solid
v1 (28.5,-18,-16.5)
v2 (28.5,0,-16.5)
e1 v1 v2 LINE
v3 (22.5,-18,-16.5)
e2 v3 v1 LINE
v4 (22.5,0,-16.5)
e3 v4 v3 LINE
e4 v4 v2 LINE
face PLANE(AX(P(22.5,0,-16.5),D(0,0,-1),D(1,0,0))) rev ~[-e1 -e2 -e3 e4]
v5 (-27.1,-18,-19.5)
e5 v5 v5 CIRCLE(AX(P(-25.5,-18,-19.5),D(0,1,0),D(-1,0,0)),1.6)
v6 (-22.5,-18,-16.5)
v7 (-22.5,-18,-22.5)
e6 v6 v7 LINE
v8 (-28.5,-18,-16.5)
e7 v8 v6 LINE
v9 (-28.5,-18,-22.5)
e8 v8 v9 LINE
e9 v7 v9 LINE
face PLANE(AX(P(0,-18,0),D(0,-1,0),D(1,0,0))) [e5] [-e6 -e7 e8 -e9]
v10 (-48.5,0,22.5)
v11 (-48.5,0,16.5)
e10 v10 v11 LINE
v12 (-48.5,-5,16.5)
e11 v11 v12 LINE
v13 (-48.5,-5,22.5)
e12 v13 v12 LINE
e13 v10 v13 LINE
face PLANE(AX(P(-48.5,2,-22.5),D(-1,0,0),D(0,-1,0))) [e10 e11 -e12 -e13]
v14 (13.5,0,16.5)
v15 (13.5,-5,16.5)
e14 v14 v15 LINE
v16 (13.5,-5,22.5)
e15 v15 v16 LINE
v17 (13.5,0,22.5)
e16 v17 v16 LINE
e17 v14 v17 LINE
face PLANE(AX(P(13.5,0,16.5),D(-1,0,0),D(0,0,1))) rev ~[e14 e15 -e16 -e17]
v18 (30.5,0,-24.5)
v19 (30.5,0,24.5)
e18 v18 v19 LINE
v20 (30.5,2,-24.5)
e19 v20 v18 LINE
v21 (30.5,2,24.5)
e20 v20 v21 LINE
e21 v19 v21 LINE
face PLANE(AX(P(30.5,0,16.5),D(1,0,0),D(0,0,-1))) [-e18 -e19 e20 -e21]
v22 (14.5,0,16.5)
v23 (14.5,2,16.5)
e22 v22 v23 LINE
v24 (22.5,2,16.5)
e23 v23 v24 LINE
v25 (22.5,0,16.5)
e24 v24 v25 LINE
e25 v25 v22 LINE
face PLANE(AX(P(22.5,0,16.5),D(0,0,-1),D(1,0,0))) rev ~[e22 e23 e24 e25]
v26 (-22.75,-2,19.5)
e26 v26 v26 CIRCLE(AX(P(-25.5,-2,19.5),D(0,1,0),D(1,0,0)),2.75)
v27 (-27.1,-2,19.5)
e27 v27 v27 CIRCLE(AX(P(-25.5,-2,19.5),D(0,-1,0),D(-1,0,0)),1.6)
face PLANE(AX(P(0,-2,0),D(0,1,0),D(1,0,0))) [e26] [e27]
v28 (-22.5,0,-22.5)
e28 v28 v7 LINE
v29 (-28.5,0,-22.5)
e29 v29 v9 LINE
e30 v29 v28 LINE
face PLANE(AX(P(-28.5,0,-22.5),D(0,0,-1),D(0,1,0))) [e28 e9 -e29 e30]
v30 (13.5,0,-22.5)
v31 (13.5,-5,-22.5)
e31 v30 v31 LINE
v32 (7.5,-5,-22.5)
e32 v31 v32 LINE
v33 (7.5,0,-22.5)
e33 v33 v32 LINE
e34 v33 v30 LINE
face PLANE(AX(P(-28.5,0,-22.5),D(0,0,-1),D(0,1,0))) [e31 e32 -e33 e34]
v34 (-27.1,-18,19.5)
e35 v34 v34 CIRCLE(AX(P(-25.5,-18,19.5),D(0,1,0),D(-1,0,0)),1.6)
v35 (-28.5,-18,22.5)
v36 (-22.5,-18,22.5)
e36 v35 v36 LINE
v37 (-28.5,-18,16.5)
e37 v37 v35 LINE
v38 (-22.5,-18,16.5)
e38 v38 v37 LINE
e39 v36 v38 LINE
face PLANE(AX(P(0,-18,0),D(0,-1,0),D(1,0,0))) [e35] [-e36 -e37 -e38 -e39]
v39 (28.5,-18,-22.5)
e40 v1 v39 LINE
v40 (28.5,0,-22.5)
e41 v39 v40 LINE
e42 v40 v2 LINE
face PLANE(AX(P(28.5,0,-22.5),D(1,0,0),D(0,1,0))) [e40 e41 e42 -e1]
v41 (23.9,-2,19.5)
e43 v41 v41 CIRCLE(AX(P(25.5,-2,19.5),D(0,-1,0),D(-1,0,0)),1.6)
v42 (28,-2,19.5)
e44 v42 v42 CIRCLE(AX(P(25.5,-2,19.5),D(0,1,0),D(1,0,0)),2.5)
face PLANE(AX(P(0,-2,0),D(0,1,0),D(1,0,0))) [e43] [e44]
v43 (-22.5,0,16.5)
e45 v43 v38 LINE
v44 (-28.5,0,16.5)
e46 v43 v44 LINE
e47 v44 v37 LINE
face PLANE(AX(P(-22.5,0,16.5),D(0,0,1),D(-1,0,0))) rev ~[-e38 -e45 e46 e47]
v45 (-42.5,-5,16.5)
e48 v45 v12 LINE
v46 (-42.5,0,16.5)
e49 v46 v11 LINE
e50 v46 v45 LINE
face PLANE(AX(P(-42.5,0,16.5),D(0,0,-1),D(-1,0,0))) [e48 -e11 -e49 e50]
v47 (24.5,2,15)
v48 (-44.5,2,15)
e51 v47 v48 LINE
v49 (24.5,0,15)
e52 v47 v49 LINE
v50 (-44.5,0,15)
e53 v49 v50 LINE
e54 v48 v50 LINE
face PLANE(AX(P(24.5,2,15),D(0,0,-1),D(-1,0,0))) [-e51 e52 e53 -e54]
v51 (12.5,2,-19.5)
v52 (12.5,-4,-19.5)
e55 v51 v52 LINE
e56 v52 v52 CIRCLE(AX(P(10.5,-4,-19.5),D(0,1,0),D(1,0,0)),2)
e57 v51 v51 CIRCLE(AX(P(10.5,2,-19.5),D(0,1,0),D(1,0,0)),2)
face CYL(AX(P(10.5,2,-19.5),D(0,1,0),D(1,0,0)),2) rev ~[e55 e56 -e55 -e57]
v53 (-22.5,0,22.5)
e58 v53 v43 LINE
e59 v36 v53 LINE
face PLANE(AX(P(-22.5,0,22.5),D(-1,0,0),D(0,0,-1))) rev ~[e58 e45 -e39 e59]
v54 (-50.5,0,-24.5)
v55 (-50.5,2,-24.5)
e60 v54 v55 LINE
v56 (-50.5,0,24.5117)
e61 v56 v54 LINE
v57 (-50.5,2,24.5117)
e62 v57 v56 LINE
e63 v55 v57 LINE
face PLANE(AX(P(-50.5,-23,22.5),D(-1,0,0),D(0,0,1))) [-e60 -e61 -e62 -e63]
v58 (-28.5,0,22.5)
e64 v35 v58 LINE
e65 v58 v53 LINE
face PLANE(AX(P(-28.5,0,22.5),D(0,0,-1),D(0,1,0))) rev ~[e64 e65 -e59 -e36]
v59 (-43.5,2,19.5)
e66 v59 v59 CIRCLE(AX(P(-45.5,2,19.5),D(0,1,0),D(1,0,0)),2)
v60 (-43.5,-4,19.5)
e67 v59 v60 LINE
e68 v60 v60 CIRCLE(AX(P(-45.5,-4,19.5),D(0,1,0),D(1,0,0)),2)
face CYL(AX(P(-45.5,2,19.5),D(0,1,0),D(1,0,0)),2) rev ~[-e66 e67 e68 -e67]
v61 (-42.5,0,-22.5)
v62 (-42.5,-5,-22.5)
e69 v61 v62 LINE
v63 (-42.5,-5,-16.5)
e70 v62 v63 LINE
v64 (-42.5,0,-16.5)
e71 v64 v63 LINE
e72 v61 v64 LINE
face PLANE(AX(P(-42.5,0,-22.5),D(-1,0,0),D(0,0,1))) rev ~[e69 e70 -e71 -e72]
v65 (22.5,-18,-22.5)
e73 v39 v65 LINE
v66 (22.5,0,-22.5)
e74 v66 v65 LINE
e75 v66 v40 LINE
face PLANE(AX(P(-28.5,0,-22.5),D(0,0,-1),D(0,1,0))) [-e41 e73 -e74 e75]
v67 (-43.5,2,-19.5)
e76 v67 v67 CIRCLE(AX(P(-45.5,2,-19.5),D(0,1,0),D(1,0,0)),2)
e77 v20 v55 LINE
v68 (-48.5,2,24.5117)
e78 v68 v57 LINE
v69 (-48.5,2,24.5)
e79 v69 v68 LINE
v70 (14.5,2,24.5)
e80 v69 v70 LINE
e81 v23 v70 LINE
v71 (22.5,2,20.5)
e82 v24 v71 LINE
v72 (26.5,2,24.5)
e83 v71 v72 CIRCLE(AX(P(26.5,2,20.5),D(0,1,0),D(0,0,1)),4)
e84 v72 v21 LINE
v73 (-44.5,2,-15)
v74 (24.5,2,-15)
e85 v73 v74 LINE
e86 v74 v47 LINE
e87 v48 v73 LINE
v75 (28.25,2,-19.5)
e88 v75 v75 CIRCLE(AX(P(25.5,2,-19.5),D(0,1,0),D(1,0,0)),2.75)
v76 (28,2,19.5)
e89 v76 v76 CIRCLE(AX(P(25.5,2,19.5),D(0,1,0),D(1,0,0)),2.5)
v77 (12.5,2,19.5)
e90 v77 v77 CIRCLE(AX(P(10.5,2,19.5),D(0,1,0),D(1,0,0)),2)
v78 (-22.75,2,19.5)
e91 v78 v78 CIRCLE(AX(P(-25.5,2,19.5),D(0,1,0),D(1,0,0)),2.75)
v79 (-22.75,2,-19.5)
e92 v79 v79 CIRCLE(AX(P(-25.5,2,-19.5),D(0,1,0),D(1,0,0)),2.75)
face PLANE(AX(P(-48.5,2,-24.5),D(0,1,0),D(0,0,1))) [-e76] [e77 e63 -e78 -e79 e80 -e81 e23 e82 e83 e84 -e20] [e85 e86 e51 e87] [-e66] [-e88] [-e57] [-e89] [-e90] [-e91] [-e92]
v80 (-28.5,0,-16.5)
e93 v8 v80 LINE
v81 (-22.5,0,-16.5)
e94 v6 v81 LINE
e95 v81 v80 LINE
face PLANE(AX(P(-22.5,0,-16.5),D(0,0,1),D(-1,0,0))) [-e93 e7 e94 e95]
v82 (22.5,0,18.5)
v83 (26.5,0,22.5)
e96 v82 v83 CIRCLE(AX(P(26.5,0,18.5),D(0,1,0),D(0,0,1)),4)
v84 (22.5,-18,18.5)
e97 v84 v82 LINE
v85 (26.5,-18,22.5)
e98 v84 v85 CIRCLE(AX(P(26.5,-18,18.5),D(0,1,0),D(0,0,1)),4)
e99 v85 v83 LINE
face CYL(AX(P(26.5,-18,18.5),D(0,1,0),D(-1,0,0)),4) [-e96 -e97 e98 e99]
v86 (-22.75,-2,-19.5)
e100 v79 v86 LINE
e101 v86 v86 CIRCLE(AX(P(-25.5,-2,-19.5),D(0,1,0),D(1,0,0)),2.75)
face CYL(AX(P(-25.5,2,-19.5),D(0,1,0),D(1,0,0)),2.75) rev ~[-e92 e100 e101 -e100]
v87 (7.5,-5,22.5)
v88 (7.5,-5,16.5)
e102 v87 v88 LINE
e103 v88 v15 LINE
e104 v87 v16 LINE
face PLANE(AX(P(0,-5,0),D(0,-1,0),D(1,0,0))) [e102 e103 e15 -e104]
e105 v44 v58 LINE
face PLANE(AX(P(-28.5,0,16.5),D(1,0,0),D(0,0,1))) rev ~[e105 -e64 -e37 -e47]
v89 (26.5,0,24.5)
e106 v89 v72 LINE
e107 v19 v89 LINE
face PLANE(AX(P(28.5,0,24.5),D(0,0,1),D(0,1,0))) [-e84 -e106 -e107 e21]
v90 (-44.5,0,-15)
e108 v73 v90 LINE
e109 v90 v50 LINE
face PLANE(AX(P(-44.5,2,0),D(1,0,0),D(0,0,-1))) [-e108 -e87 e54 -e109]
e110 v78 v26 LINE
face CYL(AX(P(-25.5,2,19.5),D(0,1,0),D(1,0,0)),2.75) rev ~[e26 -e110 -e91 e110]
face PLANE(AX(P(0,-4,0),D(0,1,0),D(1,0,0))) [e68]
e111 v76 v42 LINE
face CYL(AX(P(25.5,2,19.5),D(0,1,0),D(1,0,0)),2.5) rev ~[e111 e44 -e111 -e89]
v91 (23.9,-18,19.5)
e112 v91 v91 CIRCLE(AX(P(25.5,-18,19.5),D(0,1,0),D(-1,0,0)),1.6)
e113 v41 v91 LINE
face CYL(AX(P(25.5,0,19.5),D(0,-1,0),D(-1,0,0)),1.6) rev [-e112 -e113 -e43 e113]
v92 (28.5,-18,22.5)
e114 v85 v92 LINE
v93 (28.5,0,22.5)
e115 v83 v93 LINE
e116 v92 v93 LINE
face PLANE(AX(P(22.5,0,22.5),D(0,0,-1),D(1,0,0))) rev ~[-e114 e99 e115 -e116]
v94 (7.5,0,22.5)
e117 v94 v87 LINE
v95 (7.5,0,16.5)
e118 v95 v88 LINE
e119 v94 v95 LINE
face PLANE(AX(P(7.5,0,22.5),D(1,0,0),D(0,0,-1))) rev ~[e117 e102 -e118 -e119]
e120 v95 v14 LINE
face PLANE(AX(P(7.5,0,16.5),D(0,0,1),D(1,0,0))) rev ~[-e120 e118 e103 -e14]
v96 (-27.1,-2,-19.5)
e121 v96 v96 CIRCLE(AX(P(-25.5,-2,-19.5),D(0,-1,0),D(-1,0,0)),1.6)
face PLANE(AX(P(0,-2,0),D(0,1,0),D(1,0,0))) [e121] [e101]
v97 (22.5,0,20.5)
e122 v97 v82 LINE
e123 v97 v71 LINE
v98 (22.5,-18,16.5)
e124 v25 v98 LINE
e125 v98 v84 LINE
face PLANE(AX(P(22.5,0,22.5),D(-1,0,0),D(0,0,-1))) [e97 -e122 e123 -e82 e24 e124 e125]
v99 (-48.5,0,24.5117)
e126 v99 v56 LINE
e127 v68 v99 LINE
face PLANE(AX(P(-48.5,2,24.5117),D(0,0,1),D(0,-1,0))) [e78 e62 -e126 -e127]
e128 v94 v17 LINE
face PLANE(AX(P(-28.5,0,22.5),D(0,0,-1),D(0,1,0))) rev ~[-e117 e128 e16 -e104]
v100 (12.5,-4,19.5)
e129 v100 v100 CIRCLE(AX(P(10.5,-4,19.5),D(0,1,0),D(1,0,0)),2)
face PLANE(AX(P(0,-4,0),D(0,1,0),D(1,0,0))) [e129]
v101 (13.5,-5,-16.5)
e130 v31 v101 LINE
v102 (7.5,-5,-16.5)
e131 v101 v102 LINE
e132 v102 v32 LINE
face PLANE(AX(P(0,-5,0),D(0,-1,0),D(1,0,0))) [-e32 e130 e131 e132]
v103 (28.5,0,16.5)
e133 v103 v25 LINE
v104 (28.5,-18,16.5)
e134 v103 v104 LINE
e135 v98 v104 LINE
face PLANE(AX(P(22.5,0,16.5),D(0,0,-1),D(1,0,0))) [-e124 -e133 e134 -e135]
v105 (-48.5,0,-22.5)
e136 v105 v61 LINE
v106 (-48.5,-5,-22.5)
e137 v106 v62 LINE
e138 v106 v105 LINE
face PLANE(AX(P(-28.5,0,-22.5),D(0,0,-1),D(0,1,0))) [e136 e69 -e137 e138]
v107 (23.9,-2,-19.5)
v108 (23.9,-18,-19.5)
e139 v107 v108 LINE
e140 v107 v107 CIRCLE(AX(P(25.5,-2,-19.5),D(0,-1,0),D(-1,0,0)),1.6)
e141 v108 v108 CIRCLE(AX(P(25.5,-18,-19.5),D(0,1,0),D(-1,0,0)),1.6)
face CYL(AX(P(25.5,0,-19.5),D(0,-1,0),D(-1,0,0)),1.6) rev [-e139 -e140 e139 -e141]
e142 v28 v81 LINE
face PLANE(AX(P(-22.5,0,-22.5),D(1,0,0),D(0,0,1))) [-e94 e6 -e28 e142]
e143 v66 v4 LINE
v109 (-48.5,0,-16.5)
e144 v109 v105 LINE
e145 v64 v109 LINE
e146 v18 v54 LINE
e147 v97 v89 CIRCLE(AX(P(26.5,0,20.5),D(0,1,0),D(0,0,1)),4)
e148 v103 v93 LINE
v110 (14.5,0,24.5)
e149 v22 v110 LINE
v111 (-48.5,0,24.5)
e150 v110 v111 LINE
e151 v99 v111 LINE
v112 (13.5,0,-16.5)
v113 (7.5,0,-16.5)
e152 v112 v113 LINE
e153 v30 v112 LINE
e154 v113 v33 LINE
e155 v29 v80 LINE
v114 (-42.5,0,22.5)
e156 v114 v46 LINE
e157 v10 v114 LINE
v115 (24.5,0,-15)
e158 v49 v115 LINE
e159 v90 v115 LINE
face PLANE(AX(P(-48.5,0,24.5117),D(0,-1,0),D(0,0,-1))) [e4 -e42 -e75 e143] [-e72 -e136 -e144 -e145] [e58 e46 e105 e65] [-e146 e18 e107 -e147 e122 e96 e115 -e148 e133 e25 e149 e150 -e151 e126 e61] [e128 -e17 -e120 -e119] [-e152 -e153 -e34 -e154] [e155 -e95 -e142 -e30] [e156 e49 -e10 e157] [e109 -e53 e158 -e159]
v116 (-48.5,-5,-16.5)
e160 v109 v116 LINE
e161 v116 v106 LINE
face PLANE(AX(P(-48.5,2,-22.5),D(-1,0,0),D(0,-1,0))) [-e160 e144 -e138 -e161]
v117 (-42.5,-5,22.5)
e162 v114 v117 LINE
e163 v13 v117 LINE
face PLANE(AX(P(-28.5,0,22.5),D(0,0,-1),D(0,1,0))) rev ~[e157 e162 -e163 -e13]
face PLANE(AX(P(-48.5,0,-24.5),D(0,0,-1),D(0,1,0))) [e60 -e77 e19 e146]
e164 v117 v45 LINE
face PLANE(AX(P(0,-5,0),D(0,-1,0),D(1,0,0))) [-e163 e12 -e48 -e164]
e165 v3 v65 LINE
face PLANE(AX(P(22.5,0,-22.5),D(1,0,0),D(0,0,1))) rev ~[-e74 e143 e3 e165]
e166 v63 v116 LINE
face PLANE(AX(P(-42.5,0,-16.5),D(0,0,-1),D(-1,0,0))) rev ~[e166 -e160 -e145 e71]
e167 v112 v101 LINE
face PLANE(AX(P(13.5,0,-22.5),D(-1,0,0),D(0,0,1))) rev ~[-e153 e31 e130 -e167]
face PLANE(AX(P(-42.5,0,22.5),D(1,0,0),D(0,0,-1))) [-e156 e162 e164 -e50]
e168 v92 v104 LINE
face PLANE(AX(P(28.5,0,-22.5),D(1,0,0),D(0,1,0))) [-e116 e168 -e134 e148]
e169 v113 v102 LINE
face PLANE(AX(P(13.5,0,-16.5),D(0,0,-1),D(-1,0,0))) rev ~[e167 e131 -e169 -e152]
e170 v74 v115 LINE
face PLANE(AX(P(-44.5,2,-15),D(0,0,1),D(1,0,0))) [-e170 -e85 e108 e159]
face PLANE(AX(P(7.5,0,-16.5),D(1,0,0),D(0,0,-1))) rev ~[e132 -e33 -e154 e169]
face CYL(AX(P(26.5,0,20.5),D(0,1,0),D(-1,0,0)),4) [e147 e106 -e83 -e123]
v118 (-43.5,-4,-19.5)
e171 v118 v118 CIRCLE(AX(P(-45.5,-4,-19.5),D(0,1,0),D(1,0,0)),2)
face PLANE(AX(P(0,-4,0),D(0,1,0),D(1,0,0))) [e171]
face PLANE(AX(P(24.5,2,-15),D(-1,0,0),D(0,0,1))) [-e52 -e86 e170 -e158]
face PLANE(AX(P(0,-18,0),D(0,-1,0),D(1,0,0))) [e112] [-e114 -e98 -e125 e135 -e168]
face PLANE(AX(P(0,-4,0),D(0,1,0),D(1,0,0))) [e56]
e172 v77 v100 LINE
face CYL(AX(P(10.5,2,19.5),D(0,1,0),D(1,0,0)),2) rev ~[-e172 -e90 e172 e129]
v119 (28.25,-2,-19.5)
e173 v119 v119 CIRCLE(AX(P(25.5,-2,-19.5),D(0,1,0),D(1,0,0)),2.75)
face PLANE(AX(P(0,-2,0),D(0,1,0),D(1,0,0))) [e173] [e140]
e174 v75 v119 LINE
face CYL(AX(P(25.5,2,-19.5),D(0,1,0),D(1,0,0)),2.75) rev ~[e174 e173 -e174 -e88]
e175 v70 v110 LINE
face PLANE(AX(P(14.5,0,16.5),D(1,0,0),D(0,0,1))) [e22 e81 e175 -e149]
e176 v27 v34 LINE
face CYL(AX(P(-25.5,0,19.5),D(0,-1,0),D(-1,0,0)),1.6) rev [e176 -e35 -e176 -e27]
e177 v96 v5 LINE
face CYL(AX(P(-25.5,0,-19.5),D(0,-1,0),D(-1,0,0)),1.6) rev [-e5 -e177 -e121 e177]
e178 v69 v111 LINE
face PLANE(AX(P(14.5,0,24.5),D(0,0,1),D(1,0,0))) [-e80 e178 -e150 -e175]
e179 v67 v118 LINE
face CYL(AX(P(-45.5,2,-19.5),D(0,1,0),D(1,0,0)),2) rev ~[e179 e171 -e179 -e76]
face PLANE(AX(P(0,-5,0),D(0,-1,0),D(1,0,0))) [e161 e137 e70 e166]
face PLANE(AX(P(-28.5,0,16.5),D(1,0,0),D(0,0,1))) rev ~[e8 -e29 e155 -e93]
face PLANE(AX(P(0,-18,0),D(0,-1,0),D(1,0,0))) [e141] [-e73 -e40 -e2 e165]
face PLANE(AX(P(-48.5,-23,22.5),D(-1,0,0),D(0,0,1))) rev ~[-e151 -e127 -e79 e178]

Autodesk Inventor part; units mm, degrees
ref_plane "YZ Plane" through (0, 0, 0) normal (1, 0, 0) x (0, 1, 0)
ref_plane "XZ Plane" through (0, 0, 0) normal (0, 1, 0) x (-1, 0, 0)
ref_plane "XY Plane" through (0, 0, 0) normal (0, 0, 1) x (1, 0, 0)
sketch "Skizze1" plane through (0, 0, 0) normal (0, 1, 0) x (-1, 0, 0)
  line L0 (28.5, 22.5) -> (-28.5, 22.5)
  line L1 (-28.5, 22.5) -> (-28.5, -22.5)
  line L2 (-28.5, -22.5) -> (28.5, -22.5)
  line L3 (28.5, -22.5) -> (28.5, 22.5)
  line L4 (-39.9, 0) -> (39.9, 0) projected
  line L5 (0, -31.5) -> (0, 31.5) projected
  circle A0 centre (-25.5, 19.5) radius 1.6
  circle A1 centre (25.5, 19.5) radius 1.6
  circle A2 centre (25.5, -19.5) radius 1.6
  circle A3 centre (-25.5, -19.5) radius 1.6
  line L6 (-28.5, 22.5) -> (-22.5, 22.5)
  line L7 (-22.5, 22.5) -> (-22.5, 16.5)
  line L8 (-22.5, 16.5) -> (-28.5, 16.5)
  line L9 (-28.5, 16.5) -> (-28.5, 22.5)
  line L10 (-14.5, 22.5) -> (-22.5, 22.5)
  line L11 (-22.5, 22.5) -> (-22.5, 16.5)
  line L12 (-22.5, 16.5) -> (-14.5, 16.5)
  line L13 (-14.5, 16.5) -> (-14.5, 22.5)
  line L14 (-28.5, -22.5) -> (-22.5, -22.5)
  line L15 (-22.5, -22.5) -> (-22.5, -16.5)
  line L16 (-22.5, -16.5) -> (-28.5, -16.5)
  line L17 (-28.5, -16.5) -> (-28.5, -22.5)
  line L18 (28.5, -22.5) -> (22.5, -22.5)
  line L19 (22.5, -22.5) -> (22.5, -16.5)
  line L20 (22.5, -16.5) -> (28.5, -16.5)
  line L21 (28.5, -16.5) -> (28.5, -22.5)
  line L22 (28.5, 22.5) -> (22.5, 22.5)
  line L23 (22.5, 22.5) -> (22.5, 16.5)
  line L24 (22.5, 16.5) -> (28.5, 16.5)
  line L25 (28.5, 16.5) -> (28.5, 22.5)
  point P0 (0, 0)
  dimension "d0" = 57
  dimension "d1" = 45
  dimension "d2" = 3.2
  dimension "d3" = 3.2
  dimension "d4" = 3.2
  dimension "d5" = 3.2
  dimension "d6" = 39
  dimension "d7" = 19.5
  dimension "d8" = 51
  dimension "d9" = 51
  dimension "d10" = 39
  dimension "d11" = 19.5
  dimension "d13" = 3
  dimension "d14" = 25.5
  dimension "d15" = 6
  dimension "d16" = 6
  dimension "d17" = 0
  dimension "d18" = 8
  dimension "d19" = 6
  dimension "d20" = 6
  dimension "d21" = 6
  dimension "d22" = 6
  dimension "d23" = 6
  dimension "d24" = 6
extrude "Extrusion1" add sketch "Skizze1" along normal blind 2 and the other way blind 23 contours L3 L24 L23 L0 | L3 L2 L19 L20 | L7 L8 L1 L0 | L16 L15 L2 L1
extrude "Extrusion2" add sketch "Skizze1" along normal blind 2 contours L23 L24 L3 L4 L5 L0 | L5 L4 L1 L8 L12 L13 L0 | L3 L20 L19 L2 L5 L4 | L5 L2 L15 L16 L1 L4
sketch "Skizze2" plane through (-28.5, -23, 22.5) normal (-1, 0, 0) x (0, 0, 1)
  line L0 (0, 0) -> (0, 25) projected
  line L1 (-45, 0) -> (-45, 25) projected
  line L2 (0, 25) -> (-45, 25)
  line L3 (-45, 25) -> (-45, 23)
  line L4 (-45, 23) -> (0, 23)
  line L5 (0, 23) -> (0, 25)
  point P0 (-22.5, 23)
extrude "Extrusion3" add sketch "Skizze2" along normal blind 20
sketch "Skizze4" plane through (0, 0, 0) normal (0, -1, 0) x (1, 0, 0)
  line L0 (-48.5, 22.5) -> (-48.5, -22.5) projected
  line L1 (-48.5, -22.5) -> (-42.5, -22.5)
  line L2 (-42.5, -22.5) -> (-42.5, -16.5)
  line L3 (-42.5, -16.5) -> (-48.5, -16.5)
  line L4 (-48.5, -16.5) -> (-48.5, -22.5)
  line L5 (-48.5, 22.5) -> (-42.5, 22.5)
  line L6 (-42.5, 22.5) -> (-42.5, 16.5)
  line L7 (-42.5, 16.5) -> (-48.5, 16.5)
  line L8 (-48.5, 16.5) -> (-48.5, 22.5)
  line L9 (22.5, -22.5) -> (-22.5, -22.5) projected
  line L10 (7.5, -22.5) -> (13.5, -22.5)
  line L11 (13.5, -22.5) -> (13.5, -16.5)
  line L12 (13.5, -16.5) -> (7.5, -16.5)
  line L13 (7.5, -16.5) -> (7.5, -22.5)
  line L14 (28.5, 16.5) -> (28.5, -16.5) projected
  line L15 (-22.5, 22.5) -> (14.5, 22.5) projected
  line L16 (13.5, 22.5) -> (7.5, 22.5)
  line L17 (7.5, 22.5) -> (7.5, 16.5)
  line L18 (7.5, 16.5) -> (13.5, 16.5)
  line L19 (13.5, 16.5) -> (13.5, 22.5)
  line L20 (28.5, 16.5) -> (28.5, 22.5) projected
  point P0 (0, 0)
  dimension "d45" = 6
  dimension "d46" = 6
  dimension "d47" = 6
  dimension "d48" = 6
  dimension "d49" = 6
  dimension "d50" = 6
  dimension "d51" = 15
  dimension "d52" = 6
  dimension "d53" = 6
  dimension "d54" = 15
extrude "Extrusion4" add sketch "Skizze4" along normal blind 5
sketch "Skizze3" plane through (0, 2, 0) normal (0, 1, 0) x (1, 0, 0)
  circle A0 centre (10.5, -19.5) radius 2
  circle A1 centre (10.5, 19.5) radius 2
  line L0 (43.9, 0) -> (-63.9, 0) projected
  line L1 (28.5, -22.5) -> (28.5, 22.5) projected
  circle A2 centre (-45.5, -19.5) radius 2
  circle A3 centre (-45.5, 19.5) radius 2
  line L2 (14.5, -22.5) -> (-48.5, -22.5) projected
  line L3 (28.5, 22.5) -> (-48.5, 22.5) projected
  point P0 (0, 0)
  dimension "d33" = 4
  dimension "d34" = 4
  dimension "d35" = 39
  dimension "d36" = 19.5
  dimension "d37" = 18
  dimension "d38" = 18
  dimension "d39" = 4
  dimension "d40" = 4
  dimension "d41" = 3
  dimension "d42" = 3
  dimension "d43" = 56
  dimension "d44" = 56
extrude "Extrusion5" cut sketch "Skizze3" against normal blind 6
sketch "Skizze5" plane through (0, -23, 0) normal (0, -1, 0) x (1, 0, 0)
  circle A0 centre (-25.5, 19.5) radius 1.6 projected
  circle A1 centre (-25.5, 19.5) radius 1.6
  line L0 (-28.5, 22.5) -> (-22.5, 22.5)
  line L1 (-22.5, 22.5) -> (-22.5, 16.5)
  line L2 (-22.5, 16.5) -> (-28.5, 16.5)
  line L3 (-28.5, 16.5) -> (-28.5, 22.5)
  line L4 (22.5, 16.5) -> (28.5, 16.5) projected
  line L5 (22.5, 22.5) -> (28.5, 22.5) projected
  line L6 (28.5, 16.5) -> (22.5, 16.5)
  line L7 (22.5, 16.5) -> (22.5, 22.5)
  line L8 (22.5, 22.5) -> (28.5, 22.5)
  line L9 (28.5, 22.5) -> (28.5, 16.5)
  circle A2 centre (25.5, 19.5) radius 1.6
  circle A3 centre (25.5, -19.5) radius 1.6 projected
  circle A4 centre (25.5, -19.5) radius 1.6
  line L10 (28.5, -22.5) -> (-48.5, -22.5) projected
  line L11 (22.5, -16.5) -> (22.5, -22.5) projected
  line L12 (28.5, -22.5) -> (22.5, -22.5)
  line L13 (22.5, -22.5) -> (22.5, -16.5)
  line L14 (22.5, -16.5) -> (28.5, -16.5)
  line L15 (28.5, -16.5) -> (28.5, -22.5)
  line L16 (-28.5, -16.5) -> (-28.5, -22.5) projected
  line L17 (-22.5, -22.5) -> (-28.5, -22.5)
  line L18 (-28.5, -22.5) -> (-28.5, -16.5)
  line L19 (-28.5, -16.5) -> (-22.5, -16.5)
  line L20 (-22.5, -16.5) -> (-22.5, -22.5)
  circle A5 centre (-25.5, -19.5) radius 1.6 projected
  circle A6 centre (-25.5, -19.5) radius 1.6
  point P0 (0, 0)
  dimension "d59" = 3.2
  dimension "d60" = 3.2
  dimension "d61" = 3.2
  dimension "d62" = 3.2
  dimension "d63" = 3
  dimension "d64" = 3
extrude "Extrusion6" cut sketch "Skizze5" against normal blind 5
sketch "Skizze6" plane through (0, 2, 0) normal (0, 1, 0) x (1, 0, 0)
  line L0 (-44.5, 15) -> (24.5, 15)
  line L1 (24.5, 15) -> (24.5, -15)
  line L2 (24.5, -15) -> (-44.5, -15)
  line L3 (-44.5, -15) -> (-44.5, 15)
  line L4 (43.9, 0) -> (-63.9, 0) projected
  line L5 (28.5, -22.5) -> (28.5, 22.5) projected
  point P0 (0, 0)
  dimension "d67" = 69
  dimension "d68" = 30
  dimension "d69" = 4
extrude "Extrusion7" cut sketch "Skizze6" against normal up to surface (2 mm away)
sketch "Skizze8" plane through (14.5, 0, 22.5) normal (0, 0, 1) x (1, 0, 0)
  line L0 (-63, 2) -> (-63, -5) projected
  line L1 (10, 0) -> (-59, 0) projected
  line L2 (-63, 2) -> (0, 2)
  line L3 (0, 2) -> (0, 0)
  line L4 (0, 0) -> (-63, 0)
  line L5 (-63, 0) -> (-63, 2)
  line L6 (8, 0) -> (14, 0) projected
  line L7 (14, 0) -> (8, 0)
  line L8 (8, 0) -> (8, 2)
  line L9 (8, 2) -> (14, 2)
  line L10 (14, 2) -> (14, 0)
  line L11 (8, 2) -> (14, 2) projected
  point P0 (-14.5, 0)
  point P1 (-63, 0)
  point P2 (-59, 0)
  point P3 (8, 0)
  dimension "d73" = 63
  dimension "d74" = 6
  dimension "d75" = 0
extrude "Extrusion8" add sketch "Skizze8" along normal blind 2
sketch "Skizze9" plane through (28.5, 2, -22.5) normal (0, 0, -1) x (-1, 0, 0)
  line L0 (0, 0) -> (6, 0) projected
  line L1 (77, -2) -> (77, -7) projected
  line L2 (0, 0) -> (77, 0)
  line L3 (77, 0) -> (77, -2)
  line L4 (77, -2) -> (0, -2)
  line L5 (0, -2) -> (0, 0)
  point P0 (28.5, -2)
extrude "Extrusion9" add sketch "Skizze9" along normal blind 2
sketch "Skizze7" plane through (0, 2, 0) normal (0, 1, 0) x (1, 0, 0)
  circle A0 centre (-25.5, -19.5) radius 1.6 projected
  circle A1 centre (-25.5, -19.5) radius 2.75
  circle A2 centre (25.5, -19.5) radius 1.6 projected
  circle A3 centre (25.5, -19.5) radius 2.5
  circle A4 centre (25.5, 19.5) radius 1.6 projected
  circle A5 centre (25.5, 19.5) radius 2.75
  circle A6 centre (-25.5, 19.5) radius 1.6 projected
  circle A7 centre (-25.5, 19.5) radius 2.75
  point P0 (0, 0)
  dimension "d72" = 5.5
  dimension "d80" = 5
  dimension "d81" = 5.5
  dimension "d82" = 5.5
sketch "Skizze10" plane through (28.5, 0, 16.5) normal (1, 0, 0) x (0, 0, -1)
  line L0 (41, 2) -> (-8, 2) projected
  line L1 (39, 0) -> (41, 0) projected
  line L2 (-8, 2) -> (41, 2)
  line L3 (41, 2) -> (41, 0)
  line L4 (41, 0) -> (-8, 0)
  line L5 (-8, 0) -> (-8, 2)
  point P0 (16.5, 0)
extrude "Extrusion10" add sketch "Skizze10" along normal blind 2
sketch "Skizze11" plane through (-48.5, -23, 22.5) normal (-1, 0, 0) x (0, 0, 1)
  line L0 (-47, 25) -> (2, 25) projected
  line L1 (2.0117, 23) -> (-47, 23)
  line L2 (-47, 23) -> (-47, 25)
  line L3 (-47, 25) -> (2.0117, 25)
  line L4 (2.0117, 25) -> (2.0117, 23)
  point P0 (-22.5, 23)
  point P1 (2, 25)
extrude "Extrusion11" add sketch "Skizze11" along normal blind 2
extrude "Extrusion12" cut sketch "Skizze7" against normal blind 4
fillet "Rundung1" radius 4 2 edges at (22.5, -9, 22.5) (22.5, 1, 24.5)
properties part number "Adapter_Spannungswandler"
